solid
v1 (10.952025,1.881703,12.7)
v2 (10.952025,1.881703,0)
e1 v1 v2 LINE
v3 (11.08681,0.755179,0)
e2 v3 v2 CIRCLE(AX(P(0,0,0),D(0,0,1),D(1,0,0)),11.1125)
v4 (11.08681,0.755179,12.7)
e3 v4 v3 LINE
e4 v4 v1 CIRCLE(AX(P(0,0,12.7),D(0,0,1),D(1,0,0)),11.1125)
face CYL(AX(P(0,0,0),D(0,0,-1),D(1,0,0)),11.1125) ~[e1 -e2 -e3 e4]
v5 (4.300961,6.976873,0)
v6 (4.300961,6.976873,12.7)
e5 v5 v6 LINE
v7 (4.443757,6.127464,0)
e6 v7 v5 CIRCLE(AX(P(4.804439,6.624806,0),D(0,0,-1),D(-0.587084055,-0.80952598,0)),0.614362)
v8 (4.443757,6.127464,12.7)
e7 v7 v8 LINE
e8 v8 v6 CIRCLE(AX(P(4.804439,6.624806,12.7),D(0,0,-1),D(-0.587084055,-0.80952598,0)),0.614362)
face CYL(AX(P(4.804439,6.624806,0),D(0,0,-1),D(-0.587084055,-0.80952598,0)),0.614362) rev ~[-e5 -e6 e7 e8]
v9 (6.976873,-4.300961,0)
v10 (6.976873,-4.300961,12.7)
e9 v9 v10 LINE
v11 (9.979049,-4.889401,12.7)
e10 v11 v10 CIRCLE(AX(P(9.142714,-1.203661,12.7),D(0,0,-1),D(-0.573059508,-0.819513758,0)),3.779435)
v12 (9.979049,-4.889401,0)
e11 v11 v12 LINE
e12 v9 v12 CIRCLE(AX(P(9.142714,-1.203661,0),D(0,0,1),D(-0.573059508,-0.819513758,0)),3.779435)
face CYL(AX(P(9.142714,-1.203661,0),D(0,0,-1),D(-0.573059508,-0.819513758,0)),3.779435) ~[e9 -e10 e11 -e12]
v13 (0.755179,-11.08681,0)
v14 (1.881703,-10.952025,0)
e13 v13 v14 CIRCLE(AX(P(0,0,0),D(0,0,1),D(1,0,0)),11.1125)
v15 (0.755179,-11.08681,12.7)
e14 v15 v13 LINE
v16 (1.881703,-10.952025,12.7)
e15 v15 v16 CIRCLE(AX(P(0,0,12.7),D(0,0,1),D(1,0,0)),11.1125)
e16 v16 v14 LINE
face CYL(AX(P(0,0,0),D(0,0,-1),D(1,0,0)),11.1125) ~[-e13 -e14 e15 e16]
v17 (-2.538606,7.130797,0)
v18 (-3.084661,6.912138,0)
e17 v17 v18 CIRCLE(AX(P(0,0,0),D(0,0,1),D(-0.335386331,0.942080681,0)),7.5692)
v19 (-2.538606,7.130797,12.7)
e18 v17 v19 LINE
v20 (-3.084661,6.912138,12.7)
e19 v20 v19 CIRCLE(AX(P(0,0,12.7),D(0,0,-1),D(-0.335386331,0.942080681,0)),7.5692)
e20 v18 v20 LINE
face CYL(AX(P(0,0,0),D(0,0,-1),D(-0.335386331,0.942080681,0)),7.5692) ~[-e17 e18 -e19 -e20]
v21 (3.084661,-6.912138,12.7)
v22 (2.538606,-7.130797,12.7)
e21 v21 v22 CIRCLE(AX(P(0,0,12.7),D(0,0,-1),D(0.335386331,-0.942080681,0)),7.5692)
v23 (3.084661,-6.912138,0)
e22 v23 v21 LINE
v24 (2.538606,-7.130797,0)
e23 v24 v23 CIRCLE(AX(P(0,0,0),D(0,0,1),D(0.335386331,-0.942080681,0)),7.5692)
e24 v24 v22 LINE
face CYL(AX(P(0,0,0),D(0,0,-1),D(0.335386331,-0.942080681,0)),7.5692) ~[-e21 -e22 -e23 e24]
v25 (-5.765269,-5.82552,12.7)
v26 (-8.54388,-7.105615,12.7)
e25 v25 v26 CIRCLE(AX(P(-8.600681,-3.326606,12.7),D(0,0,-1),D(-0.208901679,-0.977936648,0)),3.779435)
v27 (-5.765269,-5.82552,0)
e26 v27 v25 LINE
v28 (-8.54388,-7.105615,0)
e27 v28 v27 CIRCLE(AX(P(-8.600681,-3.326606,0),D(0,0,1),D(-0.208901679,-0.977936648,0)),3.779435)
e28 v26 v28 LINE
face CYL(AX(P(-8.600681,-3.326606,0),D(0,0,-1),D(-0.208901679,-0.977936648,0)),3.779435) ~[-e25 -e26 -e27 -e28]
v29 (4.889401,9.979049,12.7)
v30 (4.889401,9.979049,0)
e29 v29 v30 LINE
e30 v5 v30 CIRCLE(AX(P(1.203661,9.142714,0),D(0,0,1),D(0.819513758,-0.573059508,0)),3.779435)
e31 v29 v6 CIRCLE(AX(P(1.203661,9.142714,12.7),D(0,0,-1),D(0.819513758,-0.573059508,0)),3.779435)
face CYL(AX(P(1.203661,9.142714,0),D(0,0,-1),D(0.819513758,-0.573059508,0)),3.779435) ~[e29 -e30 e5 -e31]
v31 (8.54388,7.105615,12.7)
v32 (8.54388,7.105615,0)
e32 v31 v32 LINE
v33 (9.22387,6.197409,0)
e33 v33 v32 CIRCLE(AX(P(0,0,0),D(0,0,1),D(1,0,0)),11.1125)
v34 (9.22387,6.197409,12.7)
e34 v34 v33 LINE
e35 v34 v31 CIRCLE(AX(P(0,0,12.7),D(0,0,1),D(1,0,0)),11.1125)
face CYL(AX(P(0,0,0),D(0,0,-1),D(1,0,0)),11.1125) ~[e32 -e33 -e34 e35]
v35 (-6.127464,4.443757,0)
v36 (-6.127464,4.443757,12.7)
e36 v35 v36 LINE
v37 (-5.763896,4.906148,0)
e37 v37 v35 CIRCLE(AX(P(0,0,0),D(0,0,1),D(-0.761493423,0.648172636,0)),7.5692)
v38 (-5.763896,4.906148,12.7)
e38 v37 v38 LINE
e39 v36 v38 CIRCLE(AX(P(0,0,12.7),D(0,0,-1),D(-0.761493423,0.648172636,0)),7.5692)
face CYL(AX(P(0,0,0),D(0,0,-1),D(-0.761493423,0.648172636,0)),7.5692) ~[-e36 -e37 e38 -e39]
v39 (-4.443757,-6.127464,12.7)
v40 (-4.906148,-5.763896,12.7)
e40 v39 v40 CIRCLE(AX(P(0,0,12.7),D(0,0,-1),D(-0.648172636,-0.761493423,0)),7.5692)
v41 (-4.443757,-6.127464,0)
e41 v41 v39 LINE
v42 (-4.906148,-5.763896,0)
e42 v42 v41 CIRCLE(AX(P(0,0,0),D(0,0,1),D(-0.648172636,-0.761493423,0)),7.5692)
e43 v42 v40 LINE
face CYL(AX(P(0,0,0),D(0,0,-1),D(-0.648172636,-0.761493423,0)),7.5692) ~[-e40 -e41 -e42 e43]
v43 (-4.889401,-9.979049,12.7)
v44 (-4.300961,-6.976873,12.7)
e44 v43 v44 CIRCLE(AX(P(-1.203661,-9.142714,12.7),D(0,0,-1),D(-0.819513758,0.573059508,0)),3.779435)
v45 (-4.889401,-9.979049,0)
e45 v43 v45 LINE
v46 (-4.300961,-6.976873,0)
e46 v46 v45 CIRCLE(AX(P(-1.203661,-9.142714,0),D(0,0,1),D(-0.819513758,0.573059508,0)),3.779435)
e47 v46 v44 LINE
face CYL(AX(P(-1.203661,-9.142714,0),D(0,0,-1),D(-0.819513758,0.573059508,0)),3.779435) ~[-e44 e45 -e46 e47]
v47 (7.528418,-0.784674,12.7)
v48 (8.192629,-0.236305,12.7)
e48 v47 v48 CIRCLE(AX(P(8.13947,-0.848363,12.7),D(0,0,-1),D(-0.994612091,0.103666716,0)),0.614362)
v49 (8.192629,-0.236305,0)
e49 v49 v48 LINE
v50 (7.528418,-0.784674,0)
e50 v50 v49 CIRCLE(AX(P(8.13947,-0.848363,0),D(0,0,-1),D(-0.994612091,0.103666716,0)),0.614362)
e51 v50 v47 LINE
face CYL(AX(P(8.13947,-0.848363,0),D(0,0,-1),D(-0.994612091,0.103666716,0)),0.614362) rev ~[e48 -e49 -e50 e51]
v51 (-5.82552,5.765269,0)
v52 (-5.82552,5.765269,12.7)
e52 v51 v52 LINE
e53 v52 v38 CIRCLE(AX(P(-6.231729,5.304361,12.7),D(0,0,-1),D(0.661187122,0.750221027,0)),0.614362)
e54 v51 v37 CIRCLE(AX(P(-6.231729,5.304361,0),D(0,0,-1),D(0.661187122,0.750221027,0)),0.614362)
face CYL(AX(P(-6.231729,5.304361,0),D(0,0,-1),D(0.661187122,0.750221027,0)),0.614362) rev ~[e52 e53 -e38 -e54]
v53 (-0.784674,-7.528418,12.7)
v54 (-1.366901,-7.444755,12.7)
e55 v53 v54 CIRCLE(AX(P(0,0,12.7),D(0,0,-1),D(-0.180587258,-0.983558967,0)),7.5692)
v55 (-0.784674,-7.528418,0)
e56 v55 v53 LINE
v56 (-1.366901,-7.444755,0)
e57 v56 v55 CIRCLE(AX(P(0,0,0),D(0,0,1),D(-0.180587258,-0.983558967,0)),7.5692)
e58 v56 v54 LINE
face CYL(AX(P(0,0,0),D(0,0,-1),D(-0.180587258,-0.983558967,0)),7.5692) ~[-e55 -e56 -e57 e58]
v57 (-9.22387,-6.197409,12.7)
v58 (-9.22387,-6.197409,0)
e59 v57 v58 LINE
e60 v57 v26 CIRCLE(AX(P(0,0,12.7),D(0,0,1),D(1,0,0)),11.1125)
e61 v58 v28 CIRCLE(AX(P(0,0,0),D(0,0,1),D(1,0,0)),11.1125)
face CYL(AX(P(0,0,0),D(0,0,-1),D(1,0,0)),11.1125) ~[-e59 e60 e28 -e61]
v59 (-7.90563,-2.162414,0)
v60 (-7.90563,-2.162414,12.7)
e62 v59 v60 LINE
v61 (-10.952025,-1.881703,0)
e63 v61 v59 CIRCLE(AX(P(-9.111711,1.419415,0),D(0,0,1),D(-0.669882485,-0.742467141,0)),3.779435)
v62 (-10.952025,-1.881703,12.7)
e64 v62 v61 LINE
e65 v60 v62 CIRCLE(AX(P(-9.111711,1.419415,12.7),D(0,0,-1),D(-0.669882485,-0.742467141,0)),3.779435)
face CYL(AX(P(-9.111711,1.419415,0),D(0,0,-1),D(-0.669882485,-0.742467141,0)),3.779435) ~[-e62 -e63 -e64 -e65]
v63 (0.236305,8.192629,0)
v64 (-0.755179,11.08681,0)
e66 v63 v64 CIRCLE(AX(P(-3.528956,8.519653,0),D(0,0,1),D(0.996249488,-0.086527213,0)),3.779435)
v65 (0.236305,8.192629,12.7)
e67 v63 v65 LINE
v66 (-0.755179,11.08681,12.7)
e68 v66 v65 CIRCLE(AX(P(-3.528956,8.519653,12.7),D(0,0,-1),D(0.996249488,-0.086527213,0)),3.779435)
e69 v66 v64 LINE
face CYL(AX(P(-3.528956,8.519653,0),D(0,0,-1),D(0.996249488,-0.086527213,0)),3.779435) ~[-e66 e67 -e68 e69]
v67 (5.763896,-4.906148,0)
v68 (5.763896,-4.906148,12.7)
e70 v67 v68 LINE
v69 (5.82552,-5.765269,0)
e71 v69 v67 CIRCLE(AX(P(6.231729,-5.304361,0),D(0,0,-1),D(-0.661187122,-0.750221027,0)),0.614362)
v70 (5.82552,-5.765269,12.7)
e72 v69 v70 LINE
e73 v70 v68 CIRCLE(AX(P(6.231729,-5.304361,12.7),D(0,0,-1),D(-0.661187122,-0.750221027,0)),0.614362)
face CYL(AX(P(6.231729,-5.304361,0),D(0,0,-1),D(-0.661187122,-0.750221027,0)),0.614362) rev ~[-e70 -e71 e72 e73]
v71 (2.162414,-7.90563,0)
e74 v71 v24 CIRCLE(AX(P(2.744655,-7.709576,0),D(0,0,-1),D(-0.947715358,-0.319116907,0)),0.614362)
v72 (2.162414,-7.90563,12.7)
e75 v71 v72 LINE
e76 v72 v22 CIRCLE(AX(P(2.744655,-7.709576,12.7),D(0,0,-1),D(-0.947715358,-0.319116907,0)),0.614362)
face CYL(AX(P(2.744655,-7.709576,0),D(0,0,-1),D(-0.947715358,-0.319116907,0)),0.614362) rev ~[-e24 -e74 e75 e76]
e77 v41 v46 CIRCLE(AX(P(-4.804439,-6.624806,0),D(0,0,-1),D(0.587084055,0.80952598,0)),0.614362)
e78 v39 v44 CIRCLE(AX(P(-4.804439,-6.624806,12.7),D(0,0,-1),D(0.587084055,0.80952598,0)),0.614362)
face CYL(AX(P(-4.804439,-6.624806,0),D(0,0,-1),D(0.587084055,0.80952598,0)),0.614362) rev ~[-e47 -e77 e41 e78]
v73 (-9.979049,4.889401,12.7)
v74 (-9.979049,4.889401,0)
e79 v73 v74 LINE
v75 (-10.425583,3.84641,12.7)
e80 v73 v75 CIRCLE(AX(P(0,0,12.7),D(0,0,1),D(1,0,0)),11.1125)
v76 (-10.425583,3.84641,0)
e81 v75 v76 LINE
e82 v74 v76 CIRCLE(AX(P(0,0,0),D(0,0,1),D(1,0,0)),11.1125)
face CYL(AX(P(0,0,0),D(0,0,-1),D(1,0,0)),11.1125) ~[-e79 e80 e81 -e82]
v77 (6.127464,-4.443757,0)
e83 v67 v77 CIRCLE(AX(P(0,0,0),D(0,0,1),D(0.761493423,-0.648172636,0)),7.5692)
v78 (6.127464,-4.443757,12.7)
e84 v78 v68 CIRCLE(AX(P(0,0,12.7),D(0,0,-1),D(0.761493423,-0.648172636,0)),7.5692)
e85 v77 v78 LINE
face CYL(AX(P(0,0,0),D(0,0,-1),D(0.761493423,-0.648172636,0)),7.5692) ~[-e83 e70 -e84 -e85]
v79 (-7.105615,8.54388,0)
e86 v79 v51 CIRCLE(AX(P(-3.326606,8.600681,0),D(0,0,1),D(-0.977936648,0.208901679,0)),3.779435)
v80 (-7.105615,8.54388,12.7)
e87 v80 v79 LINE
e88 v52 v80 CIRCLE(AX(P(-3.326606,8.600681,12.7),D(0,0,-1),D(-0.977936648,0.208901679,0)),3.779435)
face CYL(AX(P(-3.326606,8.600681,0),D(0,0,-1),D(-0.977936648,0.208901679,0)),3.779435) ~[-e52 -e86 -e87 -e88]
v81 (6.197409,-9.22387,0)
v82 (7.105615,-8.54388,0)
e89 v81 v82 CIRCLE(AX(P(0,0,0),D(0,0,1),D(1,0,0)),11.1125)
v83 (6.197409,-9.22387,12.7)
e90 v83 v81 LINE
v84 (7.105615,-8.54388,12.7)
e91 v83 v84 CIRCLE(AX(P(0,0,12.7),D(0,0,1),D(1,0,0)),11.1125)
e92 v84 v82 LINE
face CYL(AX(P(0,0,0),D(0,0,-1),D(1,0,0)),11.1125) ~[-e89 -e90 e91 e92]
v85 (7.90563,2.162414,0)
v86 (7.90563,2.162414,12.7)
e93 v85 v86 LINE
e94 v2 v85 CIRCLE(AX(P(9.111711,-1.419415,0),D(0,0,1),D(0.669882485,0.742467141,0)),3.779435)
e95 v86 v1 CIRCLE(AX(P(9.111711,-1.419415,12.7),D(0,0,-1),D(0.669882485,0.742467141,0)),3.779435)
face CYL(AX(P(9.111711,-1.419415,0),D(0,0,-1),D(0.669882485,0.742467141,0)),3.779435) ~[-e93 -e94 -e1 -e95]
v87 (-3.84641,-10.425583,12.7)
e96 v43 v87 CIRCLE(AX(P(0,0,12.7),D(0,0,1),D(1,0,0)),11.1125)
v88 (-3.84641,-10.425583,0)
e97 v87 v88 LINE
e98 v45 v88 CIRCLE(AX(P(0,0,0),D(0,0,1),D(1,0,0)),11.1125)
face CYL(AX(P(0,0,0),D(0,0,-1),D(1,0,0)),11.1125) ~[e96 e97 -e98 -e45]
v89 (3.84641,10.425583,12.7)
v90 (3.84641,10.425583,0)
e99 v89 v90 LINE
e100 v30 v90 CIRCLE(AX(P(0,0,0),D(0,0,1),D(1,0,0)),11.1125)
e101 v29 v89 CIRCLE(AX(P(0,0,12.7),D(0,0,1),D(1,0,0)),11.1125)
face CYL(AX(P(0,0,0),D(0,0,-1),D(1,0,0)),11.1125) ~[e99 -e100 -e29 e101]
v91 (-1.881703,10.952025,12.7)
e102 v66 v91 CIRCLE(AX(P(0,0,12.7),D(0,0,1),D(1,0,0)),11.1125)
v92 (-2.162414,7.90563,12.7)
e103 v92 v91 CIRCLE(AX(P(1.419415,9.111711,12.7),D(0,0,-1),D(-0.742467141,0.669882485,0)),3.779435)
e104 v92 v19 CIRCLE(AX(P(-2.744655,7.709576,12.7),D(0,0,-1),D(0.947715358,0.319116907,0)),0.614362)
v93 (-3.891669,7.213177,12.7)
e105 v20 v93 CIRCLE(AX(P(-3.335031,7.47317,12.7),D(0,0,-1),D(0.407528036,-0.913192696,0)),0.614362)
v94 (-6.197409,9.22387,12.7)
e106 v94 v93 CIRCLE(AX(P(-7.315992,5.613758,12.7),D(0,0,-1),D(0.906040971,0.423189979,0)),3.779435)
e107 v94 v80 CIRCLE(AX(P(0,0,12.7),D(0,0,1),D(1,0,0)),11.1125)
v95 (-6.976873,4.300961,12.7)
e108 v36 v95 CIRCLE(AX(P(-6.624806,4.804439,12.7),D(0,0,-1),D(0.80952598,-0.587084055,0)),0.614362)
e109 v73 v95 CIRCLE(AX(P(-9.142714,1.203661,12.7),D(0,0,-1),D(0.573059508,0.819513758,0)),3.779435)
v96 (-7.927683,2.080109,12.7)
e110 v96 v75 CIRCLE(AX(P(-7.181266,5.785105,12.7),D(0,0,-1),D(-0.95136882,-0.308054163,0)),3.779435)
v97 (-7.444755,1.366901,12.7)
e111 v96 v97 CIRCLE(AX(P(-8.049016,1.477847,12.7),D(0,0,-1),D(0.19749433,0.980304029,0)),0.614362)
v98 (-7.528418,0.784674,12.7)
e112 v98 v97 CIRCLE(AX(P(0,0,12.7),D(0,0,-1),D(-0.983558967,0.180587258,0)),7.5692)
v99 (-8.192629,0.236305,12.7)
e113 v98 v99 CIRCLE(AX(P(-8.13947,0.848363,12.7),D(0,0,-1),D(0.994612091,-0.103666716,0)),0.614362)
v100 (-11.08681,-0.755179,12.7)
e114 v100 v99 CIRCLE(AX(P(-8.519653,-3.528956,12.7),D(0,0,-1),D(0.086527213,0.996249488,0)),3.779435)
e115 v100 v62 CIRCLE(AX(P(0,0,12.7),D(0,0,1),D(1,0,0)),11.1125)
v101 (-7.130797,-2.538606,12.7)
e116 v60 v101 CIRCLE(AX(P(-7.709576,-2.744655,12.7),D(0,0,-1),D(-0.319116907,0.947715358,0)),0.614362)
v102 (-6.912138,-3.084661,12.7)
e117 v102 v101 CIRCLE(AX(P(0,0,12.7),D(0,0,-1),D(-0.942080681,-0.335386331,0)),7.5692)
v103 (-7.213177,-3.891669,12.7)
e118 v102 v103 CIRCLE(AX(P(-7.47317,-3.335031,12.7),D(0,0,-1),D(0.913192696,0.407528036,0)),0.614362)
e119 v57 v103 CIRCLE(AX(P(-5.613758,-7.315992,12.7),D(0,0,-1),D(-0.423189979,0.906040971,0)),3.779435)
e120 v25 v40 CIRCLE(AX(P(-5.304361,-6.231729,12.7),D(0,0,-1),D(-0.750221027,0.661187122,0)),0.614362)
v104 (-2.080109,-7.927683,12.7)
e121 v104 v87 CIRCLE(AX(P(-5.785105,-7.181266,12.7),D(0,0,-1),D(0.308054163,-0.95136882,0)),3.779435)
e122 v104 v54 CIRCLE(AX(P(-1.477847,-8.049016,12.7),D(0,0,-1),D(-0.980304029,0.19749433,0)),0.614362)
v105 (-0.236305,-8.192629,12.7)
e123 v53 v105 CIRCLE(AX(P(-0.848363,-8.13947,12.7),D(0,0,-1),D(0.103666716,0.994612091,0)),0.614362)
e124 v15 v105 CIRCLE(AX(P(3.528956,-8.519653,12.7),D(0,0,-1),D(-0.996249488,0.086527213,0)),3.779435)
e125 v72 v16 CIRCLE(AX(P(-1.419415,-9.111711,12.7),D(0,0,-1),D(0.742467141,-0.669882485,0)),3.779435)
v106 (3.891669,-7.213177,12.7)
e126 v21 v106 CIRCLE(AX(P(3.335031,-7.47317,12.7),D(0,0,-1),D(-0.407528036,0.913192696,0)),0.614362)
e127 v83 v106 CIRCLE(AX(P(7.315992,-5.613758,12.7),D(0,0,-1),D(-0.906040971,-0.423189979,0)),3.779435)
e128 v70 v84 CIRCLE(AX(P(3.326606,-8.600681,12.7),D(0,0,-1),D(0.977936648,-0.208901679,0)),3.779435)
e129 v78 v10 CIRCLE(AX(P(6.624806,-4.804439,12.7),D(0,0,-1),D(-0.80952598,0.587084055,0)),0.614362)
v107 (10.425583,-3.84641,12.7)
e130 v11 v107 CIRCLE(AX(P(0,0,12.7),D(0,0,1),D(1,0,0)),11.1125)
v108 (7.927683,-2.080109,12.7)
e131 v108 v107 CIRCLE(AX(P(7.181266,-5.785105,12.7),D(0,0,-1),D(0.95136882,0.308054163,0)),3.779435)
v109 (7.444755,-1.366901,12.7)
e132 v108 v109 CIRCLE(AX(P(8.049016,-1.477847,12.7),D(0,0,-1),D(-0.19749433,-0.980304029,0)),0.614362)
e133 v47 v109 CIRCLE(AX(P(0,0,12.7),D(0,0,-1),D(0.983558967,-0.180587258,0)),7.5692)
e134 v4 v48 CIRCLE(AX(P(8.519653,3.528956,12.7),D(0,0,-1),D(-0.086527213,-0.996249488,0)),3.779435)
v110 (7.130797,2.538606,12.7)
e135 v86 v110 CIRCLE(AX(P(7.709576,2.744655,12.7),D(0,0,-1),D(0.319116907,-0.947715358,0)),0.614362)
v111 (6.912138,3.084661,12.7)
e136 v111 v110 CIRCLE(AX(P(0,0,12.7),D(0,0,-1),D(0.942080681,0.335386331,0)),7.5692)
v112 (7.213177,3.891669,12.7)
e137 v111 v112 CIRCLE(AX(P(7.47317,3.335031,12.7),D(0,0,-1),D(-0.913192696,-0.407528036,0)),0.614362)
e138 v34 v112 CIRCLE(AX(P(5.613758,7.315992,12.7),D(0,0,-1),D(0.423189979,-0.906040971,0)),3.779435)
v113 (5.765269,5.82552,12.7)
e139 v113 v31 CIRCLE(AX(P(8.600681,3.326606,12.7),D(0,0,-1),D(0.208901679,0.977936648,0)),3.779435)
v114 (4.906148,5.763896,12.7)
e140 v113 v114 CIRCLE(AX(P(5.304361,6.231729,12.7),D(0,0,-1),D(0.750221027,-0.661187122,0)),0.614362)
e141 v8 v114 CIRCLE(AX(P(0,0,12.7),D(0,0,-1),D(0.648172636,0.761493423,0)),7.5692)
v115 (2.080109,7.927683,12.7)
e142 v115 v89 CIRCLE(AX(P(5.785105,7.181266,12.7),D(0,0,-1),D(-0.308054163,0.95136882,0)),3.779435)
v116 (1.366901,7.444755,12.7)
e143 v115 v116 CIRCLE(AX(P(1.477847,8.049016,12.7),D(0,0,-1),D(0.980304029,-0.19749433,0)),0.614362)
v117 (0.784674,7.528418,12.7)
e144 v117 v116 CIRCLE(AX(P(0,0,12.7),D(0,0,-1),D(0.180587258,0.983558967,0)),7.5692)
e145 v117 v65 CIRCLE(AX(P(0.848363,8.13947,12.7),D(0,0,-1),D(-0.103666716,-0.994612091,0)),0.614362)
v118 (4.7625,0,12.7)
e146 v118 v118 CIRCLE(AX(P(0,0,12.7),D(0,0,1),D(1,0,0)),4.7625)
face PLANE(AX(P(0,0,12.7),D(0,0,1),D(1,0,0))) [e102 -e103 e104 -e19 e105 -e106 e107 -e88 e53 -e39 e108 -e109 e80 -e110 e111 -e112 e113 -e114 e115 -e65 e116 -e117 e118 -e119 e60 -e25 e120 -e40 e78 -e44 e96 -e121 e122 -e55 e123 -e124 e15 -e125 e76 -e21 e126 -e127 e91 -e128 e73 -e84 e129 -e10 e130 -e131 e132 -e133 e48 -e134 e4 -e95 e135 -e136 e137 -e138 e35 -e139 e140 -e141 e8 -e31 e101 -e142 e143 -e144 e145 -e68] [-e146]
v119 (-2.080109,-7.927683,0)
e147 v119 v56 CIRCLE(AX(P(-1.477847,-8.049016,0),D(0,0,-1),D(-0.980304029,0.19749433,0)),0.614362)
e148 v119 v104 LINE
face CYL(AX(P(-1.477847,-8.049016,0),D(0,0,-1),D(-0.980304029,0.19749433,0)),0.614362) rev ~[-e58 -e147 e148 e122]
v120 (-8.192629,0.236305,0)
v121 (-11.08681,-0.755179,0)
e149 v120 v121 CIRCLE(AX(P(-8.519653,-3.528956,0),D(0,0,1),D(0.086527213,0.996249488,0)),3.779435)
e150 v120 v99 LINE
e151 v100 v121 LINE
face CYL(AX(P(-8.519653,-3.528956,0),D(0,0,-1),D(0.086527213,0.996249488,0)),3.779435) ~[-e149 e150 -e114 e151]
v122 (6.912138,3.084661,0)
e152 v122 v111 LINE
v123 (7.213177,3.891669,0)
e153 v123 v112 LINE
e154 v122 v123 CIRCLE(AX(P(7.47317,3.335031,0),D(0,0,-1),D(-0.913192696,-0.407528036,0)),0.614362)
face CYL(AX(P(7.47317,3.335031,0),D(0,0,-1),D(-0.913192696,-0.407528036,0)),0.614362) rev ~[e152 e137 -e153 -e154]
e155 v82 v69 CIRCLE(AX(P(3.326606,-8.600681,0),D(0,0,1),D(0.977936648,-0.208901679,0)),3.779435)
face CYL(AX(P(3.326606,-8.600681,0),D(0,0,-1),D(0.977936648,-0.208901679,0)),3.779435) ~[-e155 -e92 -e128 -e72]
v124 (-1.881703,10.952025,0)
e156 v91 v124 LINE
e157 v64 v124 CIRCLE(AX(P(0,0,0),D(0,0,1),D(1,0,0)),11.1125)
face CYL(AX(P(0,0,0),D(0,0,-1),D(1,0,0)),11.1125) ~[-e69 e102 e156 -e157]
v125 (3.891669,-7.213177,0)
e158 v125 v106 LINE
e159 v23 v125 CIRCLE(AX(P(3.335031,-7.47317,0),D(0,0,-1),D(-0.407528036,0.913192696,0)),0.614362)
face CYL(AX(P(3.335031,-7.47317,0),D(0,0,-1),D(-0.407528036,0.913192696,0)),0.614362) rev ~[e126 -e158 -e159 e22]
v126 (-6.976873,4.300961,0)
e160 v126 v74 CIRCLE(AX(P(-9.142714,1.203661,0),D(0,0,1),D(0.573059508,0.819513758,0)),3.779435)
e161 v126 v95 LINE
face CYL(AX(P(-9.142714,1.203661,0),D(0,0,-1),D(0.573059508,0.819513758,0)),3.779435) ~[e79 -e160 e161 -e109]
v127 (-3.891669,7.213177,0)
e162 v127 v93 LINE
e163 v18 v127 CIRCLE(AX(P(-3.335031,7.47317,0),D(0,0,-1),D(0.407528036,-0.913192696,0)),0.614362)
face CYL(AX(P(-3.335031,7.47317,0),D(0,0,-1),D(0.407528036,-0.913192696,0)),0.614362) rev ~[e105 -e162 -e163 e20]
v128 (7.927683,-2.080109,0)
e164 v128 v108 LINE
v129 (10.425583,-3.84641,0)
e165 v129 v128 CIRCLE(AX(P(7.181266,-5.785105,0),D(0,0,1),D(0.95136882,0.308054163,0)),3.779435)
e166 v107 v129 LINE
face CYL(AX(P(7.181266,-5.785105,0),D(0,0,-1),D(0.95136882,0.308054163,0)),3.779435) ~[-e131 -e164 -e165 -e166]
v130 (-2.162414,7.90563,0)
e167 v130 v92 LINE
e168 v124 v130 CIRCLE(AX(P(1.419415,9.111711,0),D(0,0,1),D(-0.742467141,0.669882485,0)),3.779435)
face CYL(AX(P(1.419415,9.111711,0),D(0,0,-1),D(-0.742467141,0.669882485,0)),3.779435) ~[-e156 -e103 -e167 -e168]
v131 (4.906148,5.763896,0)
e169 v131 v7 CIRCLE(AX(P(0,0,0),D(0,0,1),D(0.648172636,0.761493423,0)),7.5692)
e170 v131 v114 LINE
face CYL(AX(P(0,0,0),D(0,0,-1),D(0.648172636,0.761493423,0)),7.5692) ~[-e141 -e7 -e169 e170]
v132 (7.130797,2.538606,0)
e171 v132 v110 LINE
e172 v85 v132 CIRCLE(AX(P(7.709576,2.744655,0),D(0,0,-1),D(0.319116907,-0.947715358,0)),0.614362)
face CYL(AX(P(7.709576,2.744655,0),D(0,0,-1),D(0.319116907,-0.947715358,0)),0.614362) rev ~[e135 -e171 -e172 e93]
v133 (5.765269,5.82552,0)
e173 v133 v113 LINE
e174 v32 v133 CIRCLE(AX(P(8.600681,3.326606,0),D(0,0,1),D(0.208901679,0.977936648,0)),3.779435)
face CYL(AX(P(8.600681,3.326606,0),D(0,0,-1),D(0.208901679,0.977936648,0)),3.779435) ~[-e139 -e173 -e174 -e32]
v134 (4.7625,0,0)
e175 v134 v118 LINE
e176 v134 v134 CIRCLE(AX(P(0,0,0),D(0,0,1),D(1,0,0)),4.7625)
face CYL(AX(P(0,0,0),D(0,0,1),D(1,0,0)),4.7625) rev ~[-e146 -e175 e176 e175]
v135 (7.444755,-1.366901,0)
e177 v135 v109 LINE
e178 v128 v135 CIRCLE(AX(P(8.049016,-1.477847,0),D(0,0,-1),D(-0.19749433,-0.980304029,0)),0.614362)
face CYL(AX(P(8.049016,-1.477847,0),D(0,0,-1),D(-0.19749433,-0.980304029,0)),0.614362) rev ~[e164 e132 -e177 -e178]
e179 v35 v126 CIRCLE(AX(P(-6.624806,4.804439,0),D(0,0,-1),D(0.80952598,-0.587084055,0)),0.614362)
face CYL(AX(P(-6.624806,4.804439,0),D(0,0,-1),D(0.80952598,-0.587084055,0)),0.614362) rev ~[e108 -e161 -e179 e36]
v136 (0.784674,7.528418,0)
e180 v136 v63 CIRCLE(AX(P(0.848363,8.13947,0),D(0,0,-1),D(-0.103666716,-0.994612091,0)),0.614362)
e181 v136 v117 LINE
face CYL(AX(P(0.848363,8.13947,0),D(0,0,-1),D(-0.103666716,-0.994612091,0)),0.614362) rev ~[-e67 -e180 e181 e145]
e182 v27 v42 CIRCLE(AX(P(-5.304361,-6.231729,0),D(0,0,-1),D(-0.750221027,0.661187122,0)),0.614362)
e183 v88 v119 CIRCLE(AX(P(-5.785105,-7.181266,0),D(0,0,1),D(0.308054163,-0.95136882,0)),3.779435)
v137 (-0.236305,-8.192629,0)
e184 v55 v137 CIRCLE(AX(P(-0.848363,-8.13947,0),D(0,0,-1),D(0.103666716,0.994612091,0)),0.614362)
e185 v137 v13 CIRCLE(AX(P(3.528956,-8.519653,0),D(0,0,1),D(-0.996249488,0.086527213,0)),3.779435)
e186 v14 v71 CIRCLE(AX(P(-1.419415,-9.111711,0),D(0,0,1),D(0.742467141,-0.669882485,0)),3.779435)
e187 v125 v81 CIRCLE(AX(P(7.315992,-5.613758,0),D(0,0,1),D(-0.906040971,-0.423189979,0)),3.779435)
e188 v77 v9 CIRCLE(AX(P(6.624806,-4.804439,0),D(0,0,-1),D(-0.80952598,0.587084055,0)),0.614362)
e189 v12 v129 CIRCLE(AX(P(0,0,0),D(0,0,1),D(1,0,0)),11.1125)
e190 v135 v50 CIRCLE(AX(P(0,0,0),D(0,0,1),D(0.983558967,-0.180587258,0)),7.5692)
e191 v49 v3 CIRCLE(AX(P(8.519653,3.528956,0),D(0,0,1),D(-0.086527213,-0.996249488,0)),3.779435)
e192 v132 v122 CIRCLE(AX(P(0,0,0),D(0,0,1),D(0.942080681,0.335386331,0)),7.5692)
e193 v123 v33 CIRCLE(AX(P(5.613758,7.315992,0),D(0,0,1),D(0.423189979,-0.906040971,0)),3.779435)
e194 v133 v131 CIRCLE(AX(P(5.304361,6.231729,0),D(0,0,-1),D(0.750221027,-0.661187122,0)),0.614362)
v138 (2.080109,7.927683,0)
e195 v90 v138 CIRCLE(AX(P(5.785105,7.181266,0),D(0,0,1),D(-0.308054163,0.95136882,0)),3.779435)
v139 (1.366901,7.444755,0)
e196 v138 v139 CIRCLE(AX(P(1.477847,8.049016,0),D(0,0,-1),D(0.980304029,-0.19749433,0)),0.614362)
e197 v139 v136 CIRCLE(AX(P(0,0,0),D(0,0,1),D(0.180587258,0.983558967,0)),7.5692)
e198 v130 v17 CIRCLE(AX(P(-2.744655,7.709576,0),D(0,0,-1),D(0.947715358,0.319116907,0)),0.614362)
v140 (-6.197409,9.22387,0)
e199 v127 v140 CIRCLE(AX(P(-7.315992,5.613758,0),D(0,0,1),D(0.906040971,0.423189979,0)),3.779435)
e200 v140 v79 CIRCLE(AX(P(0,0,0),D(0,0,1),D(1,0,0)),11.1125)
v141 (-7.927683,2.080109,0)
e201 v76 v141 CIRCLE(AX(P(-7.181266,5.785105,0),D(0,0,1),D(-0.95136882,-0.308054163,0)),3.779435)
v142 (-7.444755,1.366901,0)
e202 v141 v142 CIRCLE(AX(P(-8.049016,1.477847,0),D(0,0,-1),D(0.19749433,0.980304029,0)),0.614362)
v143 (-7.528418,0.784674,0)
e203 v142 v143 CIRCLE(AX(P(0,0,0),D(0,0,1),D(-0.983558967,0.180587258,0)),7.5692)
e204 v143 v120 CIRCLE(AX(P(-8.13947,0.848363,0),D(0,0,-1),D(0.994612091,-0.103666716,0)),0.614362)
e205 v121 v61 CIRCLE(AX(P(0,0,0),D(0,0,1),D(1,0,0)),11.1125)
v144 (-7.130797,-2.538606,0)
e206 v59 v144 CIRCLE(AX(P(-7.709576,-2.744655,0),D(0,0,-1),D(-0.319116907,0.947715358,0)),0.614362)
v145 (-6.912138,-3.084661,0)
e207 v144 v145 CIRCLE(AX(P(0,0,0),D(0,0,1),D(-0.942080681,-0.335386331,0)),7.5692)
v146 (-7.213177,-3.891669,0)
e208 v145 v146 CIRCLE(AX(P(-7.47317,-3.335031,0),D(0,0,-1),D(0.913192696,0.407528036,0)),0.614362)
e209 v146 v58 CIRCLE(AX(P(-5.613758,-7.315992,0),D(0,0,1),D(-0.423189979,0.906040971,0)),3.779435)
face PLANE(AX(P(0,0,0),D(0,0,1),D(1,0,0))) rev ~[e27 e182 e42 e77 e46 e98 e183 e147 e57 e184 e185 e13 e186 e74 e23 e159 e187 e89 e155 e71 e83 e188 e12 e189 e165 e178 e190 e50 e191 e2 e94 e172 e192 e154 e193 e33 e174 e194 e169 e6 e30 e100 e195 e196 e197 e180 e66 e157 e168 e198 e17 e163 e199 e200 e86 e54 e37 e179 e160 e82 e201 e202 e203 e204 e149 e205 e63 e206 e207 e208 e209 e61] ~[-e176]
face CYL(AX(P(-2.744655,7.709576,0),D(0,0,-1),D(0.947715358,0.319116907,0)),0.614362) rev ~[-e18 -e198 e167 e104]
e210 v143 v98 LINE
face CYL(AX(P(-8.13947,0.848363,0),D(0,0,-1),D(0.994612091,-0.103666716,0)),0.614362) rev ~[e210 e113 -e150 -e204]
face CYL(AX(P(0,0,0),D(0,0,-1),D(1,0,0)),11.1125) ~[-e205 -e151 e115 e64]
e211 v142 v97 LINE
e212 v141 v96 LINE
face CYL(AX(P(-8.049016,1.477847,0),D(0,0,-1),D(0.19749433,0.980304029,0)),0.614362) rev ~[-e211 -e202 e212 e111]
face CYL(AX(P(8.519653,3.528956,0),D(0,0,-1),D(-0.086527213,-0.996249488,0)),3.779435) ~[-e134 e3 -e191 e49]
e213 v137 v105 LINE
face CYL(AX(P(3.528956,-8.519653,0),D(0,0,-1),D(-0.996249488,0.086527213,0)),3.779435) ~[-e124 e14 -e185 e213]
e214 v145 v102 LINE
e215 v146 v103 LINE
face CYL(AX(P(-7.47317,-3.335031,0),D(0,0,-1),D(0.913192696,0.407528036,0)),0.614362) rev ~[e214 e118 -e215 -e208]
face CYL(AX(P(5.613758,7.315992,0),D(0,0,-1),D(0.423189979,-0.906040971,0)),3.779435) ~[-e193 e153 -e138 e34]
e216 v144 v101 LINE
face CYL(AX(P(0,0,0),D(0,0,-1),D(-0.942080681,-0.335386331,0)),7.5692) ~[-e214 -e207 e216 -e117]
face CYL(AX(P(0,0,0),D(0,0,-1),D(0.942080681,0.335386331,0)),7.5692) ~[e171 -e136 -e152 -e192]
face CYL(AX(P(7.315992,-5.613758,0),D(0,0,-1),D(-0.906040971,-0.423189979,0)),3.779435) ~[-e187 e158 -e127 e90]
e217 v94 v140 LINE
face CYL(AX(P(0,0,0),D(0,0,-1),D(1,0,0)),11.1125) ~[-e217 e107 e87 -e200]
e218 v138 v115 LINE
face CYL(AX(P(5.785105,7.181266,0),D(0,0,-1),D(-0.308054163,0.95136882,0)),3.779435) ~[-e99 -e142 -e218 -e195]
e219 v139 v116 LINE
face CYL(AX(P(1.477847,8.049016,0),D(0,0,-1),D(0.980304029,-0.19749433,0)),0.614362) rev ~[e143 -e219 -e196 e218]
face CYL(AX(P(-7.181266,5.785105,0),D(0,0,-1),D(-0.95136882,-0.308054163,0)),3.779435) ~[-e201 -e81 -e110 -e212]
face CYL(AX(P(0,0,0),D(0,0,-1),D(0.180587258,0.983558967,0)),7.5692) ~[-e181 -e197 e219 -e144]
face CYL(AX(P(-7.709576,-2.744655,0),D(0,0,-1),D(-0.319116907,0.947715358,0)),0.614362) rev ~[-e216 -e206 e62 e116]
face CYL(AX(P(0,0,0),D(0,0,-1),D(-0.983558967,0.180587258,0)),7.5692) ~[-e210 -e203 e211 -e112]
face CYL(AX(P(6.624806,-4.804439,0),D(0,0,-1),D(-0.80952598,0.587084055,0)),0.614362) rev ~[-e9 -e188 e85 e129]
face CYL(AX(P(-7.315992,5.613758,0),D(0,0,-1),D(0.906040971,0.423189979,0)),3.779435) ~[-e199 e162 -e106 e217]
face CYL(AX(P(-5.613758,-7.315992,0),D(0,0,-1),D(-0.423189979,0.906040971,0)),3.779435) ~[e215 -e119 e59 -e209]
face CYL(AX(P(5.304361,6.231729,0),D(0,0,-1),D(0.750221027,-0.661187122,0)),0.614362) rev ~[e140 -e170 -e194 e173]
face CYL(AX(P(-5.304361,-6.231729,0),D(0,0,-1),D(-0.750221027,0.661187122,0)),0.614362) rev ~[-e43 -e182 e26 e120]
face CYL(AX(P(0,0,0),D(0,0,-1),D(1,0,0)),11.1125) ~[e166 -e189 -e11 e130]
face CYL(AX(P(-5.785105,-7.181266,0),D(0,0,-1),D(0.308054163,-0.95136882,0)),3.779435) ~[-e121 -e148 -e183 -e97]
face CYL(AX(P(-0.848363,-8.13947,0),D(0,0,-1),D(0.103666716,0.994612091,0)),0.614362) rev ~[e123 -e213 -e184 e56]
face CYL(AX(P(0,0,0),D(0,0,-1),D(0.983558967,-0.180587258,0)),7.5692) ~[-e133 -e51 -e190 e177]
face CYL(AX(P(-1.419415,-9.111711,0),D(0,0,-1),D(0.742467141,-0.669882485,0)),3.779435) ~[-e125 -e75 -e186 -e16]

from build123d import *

# Parameters (mm, degrees)
SKETCH3_R         = 11.1125
GEARBODY_DEPTH    = 12.7
TOOTHCUT_DEPTH    = 21.205576272
CIRPATTERN1_COUNT = 12
BOREDIA_R         = 4.7625
BORE_DEPTH        = 12700


with BuildPart() as part:
    # Sketch3 → gearBody (new body)
    with BuildSketch(Plane.XY):
        Circle(SKETCH3_R)
    extrude(amount=GEARBODY_DEPTH)

    # Sketch2 → toothCut (cut, through all)
    with BuildSketch(Plane.XY):
        with BuildLine():
            ThreePointArc((7.444754533, -1.366901089), (7.492243976, -1.076600595), (7.528417841, -0.784674105))
            ThreePointArc((7.528417841, -0.784674105), (7.748332797, -0.374598545), (8.192629287, -0.236304722))
            ThreePointArc((8.192629287, -0.236304722), (10.138992771, 0.11400759), (11.641974978, 1.399345683))
            ThreePointArc((11.641974978, 1.399345683), (11.606557001, -1.667808231), (10.77690315, -4.620834146))
            ThreePointArc((10.77690315, -4.620834146), (9.696654608, -2.964297816), (7.927683168, -2.080109164))
            ThreePointArc((7.927683168, -2.080109164), (7.540303773, -1.822307386), (7.444754533, -1.366901089))
        make_face()
    toothcut = extrude(amount=TOOTHCUT_DEPTH, mode=Mode.SUBTRACT)

    # CirPattern1: toothCut ×12 about axis
    cirpattern1_axis = Axis((0, 0, 0), (0, 0, 1))
    for i in range(1, CIRPATTERN1_COUNT):
        add(toothcut.rotate(cirpattern1_axis, i * 360 / CIRPATTERN1_COUNT), mode=Mode.SUBTRACT)

    # boreDia → bore (cut, symmetric)
    with BuildSketch(Plane.XY):
        Circle(BOREDIA_R)
    extrude(amount=BORE_DEPTH, both=True, mode=Mode.SUBTRACT)


solid = part.part
